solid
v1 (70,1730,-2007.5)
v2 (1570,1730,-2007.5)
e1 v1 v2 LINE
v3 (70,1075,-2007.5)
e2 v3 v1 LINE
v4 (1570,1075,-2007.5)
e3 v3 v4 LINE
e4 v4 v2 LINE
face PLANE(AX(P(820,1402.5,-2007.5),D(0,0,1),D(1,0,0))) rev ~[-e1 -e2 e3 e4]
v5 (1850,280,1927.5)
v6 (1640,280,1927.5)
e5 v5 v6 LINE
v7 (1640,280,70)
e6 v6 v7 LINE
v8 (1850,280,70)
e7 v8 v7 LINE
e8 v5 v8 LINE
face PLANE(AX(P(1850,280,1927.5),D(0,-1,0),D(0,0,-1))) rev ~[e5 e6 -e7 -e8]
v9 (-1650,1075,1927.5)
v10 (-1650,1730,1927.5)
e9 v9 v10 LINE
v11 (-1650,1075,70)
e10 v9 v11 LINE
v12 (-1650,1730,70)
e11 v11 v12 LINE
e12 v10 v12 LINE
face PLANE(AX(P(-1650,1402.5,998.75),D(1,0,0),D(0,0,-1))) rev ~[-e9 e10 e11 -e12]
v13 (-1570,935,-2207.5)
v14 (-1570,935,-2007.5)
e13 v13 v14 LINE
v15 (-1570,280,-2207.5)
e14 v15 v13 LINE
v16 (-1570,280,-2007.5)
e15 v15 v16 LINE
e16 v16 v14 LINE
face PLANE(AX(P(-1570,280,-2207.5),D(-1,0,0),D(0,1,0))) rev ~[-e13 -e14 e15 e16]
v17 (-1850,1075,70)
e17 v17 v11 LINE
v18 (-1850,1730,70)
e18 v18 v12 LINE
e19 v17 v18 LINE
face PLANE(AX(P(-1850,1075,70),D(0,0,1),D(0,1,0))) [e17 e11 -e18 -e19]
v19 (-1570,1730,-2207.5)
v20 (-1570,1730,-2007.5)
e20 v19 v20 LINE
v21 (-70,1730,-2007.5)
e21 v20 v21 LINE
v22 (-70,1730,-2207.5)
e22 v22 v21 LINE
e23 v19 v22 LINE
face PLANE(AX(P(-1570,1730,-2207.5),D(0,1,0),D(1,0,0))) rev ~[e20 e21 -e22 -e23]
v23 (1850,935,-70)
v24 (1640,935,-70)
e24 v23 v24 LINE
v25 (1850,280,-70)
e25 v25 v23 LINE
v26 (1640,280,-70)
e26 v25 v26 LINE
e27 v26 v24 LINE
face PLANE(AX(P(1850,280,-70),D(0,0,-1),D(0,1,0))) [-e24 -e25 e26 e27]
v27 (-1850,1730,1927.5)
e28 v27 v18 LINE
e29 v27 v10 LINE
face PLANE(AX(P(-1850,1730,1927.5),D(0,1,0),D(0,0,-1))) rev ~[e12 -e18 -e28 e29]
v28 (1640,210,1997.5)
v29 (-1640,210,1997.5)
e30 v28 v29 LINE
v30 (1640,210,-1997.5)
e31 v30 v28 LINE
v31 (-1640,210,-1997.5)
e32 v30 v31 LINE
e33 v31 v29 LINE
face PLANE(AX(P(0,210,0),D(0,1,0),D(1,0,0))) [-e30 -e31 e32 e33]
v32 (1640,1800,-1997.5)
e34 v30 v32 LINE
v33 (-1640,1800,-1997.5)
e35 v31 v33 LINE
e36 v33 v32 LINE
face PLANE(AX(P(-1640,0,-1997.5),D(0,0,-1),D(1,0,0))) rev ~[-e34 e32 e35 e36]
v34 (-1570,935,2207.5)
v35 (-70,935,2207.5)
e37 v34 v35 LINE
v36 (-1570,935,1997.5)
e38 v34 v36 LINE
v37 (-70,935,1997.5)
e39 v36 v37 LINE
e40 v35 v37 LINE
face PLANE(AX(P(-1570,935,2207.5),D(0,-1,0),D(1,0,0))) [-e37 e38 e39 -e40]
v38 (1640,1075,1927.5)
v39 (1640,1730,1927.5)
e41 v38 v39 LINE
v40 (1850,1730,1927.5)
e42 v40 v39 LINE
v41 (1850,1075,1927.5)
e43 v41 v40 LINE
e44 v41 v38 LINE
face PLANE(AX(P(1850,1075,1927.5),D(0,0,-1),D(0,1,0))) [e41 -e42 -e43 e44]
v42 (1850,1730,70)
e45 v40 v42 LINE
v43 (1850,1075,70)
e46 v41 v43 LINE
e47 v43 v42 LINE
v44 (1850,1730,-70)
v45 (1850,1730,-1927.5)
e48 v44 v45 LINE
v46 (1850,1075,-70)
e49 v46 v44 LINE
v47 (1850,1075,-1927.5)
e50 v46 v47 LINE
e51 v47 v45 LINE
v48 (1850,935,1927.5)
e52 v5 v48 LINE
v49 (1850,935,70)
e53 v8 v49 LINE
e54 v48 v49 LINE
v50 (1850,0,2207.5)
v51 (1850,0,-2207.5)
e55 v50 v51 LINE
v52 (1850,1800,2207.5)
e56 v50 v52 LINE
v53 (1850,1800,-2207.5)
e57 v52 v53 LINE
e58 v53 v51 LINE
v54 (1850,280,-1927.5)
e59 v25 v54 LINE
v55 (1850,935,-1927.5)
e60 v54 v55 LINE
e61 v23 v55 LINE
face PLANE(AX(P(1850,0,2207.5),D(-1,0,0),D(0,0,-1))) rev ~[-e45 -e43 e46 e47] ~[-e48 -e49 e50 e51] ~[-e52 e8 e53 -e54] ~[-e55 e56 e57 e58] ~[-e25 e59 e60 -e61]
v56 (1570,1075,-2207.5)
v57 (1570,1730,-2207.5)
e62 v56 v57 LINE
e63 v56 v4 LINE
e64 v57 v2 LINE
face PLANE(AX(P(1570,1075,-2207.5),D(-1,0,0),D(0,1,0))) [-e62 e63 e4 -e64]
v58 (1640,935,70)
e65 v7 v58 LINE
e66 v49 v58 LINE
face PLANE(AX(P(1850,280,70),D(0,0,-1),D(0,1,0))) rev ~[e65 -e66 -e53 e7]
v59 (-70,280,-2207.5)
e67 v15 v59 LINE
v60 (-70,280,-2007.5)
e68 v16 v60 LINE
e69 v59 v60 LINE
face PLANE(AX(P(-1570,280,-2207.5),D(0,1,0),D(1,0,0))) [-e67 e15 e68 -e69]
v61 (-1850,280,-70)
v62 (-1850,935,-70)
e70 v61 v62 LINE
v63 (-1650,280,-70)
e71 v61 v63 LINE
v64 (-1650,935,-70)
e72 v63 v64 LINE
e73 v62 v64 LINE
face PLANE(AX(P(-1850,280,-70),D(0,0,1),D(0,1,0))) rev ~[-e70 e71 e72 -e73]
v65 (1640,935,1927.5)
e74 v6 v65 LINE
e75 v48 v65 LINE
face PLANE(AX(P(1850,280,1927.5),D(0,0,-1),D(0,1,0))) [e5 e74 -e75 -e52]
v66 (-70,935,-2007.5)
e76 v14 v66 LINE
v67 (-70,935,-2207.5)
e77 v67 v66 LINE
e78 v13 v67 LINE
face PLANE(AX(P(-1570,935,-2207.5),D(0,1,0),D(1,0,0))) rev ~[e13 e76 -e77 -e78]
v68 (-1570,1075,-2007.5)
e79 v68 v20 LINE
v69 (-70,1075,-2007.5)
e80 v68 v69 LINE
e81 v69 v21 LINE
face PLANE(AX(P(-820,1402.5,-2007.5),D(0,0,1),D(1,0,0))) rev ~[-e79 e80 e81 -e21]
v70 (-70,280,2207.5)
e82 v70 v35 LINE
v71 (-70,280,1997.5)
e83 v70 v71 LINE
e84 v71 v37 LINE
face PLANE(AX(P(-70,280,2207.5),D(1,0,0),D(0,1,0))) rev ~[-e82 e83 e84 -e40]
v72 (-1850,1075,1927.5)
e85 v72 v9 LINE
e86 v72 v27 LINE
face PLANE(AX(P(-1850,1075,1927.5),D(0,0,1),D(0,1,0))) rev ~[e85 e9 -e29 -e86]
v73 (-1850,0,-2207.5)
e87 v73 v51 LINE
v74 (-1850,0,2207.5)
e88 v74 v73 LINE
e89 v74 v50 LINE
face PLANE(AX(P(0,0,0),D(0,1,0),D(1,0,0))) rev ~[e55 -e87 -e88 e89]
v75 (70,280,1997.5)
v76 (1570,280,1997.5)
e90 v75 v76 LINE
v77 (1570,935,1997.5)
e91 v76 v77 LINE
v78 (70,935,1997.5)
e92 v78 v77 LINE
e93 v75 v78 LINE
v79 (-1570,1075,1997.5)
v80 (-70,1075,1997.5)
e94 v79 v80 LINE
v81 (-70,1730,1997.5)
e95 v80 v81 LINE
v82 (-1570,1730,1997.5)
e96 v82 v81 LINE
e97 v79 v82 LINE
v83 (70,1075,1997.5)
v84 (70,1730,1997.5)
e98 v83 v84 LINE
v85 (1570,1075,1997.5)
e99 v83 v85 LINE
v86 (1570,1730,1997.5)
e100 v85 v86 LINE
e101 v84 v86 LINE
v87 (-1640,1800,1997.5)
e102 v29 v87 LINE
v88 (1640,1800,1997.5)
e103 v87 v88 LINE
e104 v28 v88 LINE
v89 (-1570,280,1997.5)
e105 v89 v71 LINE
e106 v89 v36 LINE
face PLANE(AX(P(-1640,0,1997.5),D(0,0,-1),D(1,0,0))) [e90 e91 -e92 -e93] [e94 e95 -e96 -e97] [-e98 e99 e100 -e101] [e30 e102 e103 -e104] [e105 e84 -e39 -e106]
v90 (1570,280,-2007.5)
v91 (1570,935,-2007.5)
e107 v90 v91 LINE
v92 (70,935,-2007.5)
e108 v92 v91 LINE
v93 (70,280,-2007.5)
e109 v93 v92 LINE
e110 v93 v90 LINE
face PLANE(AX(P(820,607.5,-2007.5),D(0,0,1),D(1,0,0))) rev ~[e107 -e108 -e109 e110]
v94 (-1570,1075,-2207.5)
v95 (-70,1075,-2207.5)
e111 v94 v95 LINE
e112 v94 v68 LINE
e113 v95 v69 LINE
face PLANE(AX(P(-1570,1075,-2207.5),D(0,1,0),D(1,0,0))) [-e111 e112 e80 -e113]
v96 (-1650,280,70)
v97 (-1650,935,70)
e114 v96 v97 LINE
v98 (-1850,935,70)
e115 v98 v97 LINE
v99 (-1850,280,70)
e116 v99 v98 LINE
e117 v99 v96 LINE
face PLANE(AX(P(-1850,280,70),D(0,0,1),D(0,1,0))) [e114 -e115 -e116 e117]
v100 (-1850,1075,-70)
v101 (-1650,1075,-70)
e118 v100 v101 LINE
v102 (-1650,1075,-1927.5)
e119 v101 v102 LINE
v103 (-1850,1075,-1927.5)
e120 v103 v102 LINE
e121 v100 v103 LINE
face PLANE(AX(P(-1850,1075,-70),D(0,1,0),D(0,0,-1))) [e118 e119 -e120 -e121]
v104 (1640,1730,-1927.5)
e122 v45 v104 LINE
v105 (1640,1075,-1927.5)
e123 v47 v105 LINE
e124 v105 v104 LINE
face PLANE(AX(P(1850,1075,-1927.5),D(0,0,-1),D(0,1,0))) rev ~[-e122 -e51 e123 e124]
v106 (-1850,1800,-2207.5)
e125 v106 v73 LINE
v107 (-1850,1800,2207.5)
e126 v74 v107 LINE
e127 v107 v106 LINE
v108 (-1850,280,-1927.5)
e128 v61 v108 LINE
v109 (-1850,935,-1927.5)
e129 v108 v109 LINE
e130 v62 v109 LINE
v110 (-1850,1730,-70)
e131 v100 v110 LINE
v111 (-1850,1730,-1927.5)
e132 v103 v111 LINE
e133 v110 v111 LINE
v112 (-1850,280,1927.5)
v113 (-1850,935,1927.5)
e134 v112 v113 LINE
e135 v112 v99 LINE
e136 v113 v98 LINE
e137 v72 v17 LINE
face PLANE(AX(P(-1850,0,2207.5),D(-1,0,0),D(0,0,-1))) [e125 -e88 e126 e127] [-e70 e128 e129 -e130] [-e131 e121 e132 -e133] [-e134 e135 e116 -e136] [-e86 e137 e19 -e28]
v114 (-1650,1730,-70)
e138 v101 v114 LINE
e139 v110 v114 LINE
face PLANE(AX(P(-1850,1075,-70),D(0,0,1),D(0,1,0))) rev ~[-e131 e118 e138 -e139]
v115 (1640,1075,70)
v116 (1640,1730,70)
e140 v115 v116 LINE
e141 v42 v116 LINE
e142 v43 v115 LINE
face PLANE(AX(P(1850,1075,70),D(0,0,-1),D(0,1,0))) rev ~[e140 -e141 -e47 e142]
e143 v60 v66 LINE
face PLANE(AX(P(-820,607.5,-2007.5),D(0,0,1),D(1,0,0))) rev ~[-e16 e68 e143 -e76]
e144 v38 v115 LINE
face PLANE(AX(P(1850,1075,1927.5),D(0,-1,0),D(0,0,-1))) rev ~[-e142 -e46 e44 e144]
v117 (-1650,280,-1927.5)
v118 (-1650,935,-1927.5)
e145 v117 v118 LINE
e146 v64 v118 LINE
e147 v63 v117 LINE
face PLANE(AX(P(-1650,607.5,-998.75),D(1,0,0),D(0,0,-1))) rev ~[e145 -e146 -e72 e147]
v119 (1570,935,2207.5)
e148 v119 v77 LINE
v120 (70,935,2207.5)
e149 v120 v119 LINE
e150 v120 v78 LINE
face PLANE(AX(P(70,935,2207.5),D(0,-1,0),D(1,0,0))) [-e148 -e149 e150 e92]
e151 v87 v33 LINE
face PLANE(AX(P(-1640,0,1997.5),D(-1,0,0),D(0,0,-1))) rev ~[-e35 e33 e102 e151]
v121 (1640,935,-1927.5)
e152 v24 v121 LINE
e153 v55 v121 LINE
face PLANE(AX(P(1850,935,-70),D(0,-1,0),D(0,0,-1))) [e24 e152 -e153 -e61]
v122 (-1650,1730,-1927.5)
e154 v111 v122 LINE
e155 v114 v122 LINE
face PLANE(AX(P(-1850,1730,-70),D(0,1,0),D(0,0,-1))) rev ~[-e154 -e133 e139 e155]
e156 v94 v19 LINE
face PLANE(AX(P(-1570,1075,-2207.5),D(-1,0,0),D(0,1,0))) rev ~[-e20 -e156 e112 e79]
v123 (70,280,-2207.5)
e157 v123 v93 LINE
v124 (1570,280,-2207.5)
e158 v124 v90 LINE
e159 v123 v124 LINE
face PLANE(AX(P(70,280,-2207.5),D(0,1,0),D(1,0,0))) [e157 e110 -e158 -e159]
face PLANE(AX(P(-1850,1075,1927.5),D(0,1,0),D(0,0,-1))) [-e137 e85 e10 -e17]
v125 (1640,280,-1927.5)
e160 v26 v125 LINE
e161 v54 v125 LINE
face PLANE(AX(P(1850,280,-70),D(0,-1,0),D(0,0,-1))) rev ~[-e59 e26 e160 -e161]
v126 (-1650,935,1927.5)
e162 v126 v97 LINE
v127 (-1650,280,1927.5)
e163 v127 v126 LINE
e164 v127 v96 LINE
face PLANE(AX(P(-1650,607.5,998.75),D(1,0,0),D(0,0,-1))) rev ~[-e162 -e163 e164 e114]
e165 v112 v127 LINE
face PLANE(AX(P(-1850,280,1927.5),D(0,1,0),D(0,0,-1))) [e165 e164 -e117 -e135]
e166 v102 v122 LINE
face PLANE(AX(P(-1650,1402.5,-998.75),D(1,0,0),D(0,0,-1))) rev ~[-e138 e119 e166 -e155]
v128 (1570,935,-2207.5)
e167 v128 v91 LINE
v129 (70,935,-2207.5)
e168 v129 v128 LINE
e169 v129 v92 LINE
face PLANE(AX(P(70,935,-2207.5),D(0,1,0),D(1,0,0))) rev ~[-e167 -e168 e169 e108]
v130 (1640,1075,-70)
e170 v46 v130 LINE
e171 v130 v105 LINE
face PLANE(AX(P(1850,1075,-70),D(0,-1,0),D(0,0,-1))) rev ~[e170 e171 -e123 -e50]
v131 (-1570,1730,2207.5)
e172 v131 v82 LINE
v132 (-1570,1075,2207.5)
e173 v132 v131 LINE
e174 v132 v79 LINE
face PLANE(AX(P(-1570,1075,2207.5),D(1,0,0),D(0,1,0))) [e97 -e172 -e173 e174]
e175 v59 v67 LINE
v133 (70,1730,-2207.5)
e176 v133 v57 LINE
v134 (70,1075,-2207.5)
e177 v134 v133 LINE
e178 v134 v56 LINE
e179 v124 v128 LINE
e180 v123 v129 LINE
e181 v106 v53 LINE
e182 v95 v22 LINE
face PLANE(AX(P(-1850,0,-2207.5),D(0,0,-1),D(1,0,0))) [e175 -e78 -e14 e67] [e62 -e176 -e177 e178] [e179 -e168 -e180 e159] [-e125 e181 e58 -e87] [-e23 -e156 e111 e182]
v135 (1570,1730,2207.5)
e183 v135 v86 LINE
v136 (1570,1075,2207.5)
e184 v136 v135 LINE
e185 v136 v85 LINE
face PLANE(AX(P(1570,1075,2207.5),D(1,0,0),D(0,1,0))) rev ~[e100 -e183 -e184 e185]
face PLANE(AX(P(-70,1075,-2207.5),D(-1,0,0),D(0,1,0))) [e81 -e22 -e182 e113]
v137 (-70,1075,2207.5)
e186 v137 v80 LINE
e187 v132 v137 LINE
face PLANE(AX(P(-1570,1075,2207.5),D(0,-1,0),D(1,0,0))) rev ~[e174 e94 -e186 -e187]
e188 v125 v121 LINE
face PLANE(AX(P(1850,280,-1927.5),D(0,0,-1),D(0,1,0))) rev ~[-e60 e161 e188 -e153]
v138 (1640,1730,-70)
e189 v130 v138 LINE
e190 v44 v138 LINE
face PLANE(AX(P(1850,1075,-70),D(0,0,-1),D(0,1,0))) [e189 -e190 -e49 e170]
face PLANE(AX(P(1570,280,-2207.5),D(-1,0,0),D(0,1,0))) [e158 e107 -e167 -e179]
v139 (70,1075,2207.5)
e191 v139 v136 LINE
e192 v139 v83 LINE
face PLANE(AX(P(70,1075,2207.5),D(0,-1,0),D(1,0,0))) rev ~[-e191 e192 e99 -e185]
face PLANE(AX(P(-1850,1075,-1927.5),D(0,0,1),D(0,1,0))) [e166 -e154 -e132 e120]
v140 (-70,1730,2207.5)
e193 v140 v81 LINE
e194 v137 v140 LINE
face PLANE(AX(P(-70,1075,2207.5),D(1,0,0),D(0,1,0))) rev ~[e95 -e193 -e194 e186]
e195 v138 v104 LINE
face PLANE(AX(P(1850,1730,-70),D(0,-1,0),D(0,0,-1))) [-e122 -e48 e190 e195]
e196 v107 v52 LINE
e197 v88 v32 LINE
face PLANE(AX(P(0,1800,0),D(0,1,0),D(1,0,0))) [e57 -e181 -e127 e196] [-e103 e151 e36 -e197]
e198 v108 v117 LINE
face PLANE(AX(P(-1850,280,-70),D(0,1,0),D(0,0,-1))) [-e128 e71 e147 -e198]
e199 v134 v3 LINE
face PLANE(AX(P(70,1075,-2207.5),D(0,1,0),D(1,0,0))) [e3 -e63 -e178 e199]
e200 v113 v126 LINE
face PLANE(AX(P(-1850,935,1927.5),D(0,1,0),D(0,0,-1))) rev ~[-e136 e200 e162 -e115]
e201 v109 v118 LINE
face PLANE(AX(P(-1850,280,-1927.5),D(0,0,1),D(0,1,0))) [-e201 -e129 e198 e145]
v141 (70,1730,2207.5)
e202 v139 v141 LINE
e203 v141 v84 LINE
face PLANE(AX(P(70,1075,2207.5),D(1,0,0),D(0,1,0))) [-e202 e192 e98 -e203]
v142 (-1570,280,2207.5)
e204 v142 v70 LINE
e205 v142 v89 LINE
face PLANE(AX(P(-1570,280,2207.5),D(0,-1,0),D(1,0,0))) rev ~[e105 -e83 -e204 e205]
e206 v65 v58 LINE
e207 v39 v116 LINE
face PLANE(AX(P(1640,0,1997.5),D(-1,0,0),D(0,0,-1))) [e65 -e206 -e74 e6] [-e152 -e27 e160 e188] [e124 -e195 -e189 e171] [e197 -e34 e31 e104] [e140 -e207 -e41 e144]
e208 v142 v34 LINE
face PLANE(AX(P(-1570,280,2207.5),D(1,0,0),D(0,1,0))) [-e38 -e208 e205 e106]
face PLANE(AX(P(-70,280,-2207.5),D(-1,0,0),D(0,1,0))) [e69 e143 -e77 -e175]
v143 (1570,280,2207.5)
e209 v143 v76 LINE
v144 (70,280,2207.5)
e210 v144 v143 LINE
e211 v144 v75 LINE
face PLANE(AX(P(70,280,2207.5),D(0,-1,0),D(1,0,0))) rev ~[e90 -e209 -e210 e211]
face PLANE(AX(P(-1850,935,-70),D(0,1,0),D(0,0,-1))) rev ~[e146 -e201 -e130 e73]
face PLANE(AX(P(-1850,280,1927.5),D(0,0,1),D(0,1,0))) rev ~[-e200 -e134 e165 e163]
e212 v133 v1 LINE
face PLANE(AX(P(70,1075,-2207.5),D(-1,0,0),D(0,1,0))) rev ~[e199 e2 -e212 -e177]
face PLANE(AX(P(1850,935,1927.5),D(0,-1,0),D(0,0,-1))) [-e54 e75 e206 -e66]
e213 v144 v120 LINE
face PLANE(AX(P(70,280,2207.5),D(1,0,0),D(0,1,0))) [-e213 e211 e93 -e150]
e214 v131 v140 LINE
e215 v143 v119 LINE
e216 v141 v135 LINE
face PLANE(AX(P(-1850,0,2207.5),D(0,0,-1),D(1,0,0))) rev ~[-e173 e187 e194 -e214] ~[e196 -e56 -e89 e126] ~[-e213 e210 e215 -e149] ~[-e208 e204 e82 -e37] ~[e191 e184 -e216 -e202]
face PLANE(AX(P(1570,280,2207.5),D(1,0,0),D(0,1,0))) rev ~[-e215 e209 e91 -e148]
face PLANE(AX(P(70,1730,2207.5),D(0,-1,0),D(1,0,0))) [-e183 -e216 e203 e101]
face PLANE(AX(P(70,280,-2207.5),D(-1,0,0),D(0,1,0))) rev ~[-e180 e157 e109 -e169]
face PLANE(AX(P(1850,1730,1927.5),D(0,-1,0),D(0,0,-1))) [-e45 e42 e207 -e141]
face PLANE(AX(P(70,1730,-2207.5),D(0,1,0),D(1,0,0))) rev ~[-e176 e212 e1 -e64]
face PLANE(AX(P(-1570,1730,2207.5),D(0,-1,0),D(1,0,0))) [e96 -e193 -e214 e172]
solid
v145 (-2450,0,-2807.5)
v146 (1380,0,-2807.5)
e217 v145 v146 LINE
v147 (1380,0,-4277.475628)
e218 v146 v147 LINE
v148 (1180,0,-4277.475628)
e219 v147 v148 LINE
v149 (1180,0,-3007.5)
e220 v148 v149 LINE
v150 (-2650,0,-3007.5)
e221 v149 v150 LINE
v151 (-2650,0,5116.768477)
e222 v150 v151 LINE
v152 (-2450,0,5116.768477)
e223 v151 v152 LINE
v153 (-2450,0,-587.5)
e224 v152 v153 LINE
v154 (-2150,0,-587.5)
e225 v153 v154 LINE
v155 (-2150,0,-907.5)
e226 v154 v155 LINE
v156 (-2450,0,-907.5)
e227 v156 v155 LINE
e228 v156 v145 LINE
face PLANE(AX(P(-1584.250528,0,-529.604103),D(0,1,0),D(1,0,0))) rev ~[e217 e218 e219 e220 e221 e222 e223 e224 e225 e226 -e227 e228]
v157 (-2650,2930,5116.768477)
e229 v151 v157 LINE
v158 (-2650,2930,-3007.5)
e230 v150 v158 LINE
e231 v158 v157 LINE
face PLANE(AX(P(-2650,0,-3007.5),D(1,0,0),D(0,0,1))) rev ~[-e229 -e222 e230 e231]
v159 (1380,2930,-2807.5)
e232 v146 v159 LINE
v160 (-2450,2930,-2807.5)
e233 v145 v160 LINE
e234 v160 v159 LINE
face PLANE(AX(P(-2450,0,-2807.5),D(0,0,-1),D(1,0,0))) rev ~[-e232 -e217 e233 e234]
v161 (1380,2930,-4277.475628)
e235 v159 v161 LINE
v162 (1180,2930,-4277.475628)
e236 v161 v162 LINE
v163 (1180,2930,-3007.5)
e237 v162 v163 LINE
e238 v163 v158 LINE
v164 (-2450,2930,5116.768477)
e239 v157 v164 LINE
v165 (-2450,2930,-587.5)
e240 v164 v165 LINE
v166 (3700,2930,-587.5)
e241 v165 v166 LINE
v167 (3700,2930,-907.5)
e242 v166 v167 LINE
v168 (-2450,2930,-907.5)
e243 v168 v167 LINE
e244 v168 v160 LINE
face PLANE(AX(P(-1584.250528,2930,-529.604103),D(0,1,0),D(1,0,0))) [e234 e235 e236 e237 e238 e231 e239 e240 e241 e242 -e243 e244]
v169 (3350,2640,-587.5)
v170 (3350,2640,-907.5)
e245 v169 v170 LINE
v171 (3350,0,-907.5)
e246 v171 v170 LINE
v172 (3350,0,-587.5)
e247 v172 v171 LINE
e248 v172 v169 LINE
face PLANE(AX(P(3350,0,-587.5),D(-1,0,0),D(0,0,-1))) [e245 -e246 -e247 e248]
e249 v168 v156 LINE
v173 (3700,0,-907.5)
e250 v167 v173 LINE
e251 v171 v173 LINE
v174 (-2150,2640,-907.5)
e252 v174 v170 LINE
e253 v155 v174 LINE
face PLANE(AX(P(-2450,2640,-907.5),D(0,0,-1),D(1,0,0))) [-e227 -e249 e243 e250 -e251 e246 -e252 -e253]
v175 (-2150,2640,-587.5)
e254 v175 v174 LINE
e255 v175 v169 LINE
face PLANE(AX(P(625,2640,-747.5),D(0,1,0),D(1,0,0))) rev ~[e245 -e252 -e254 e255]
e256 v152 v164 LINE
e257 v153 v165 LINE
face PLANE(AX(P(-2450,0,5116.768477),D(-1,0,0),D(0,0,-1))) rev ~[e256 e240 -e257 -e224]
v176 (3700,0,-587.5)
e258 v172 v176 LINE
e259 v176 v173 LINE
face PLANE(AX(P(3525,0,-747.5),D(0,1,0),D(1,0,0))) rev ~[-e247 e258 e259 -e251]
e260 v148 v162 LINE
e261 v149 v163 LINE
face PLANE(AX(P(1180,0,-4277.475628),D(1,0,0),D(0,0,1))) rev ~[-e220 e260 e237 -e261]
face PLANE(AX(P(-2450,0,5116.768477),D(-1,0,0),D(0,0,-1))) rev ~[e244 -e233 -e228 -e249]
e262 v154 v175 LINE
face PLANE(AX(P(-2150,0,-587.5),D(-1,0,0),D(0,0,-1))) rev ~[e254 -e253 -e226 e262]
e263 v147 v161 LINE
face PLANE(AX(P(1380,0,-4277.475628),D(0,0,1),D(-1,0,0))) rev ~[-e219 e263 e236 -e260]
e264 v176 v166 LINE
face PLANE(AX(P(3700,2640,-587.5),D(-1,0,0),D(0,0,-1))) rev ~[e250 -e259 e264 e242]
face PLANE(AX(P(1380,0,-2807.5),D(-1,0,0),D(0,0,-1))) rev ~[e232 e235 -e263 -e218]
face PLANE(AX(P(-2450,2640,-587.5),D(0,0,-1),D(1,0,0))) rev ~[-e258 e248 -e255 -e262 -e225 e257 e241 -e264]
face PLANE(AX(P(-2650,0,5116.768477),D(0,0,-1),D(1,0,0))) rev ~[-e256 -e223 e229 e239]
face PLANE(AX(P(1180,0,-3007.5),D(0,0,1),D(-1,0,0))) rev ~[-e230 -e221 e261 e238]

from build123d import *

# Parameters (mm, degrees)
SKETCH1_W             = 3700
SKETCH1_H             = 4415
SKETCH1_W_2           = 3280
SKETCH1_H_2           = 3995
BOSS_EXTRUDE1_DEPTH   = 210
SKETCH1_3_W           = 3700
SKETCH1_3_H           = 4415
SKETCH1_3_W_2         = 3280
SKETCH1_3_H_2         = 3995
BOSS_EXTRUDE2_DEPTH   = 1800
CUT_EXTRUDE1_REACH    = 5116.169
SKETCH2_W             = 1500
SKETCH2_H             = 655
CUT_EXTRUDE2_START    = -4415
SKETCH2_3_W           = 1500
SKETCH2_3_H           = 655
CUT_EXTRUDE2_DEPTH    = 200
CUT_EXTRUDE3_REACH    = 4671.374
SKETCH3_W             = 1857.5
SKETCH3_H             = 655
CUT_EXTRUDE4_START    = -3700
SKETCH3_3_W           = 1857.5
SKETCH3_3_H           = 655
CUT_EXTRUDE4_DEPTH    = 200
SKETCH4_W             = 350
SKETCH4_H             = 320
BOSS_EXTRUDE3_DEPTH   = 2640
SKETCH4_W_2           = 300
BOSS_EXTRUDE3_2_DEPTH = 2640
SKETCH5_W             = 6150
SKETCH5_H             = 320
BOSS_EXTRUDE4_DEPTH   = 290
BOSS_EXTRUDE5_DEPTH   = 2930


with BuildPart() as part:
    # Sketch1 → Boss-Extrude1 (new body)
    with BuildSketch(Plane(origin=(0, 0, 0), x_dir=(1, 0, 0), z_dir=(0, 1, 0))):
        Rectangle(SKETCH1_W, SKETCH1_H)
        Rectangle(SKETCH1_W_2, SKETCH1_H_2, mode=Mode.SUBTRACT)
        Rectangle(SKETCH1_W_2, SKETCH1_H_2)
    extrude(amount=BOSS_EXTRUDE1_DEPTH)

    # Sketch1<3> → Boss-Extrude2 (add)
    with BuildSketch(Plane(origin=(0, 0, 0), x_dir=(1, 0, 0), z_dir=(0, 1, 0))):
        Rectangle(SKETCH1_3_W, SKETCH1_3_H)
        Rectangle(SKETCH1_3_W_2, SKETCH1_3_H_2, mode=Mode.SUBTRACT)
    extrude(amount=BOSS_EXTRUDE2_DEPTH)

    # Sketch2 → Cut-Extrude1 (cut, up to next)
    with BuildSketch(Plane.XY.offset(2207.5), mode=Mode.PRIVATE) as cut_extrude1_sk1:
        with Locations((-820, 1402.5)):
            Rectangle(SKETCH2_W, SKETCH2_H)
    cut_extrude1_tool1 = extrude(cut_extrude1_sk1.sketch, amount=-CUT_EXTRUDE1_REACH, mode=Mode.PRIVATE) & part.part
    # Sketch2 → Cut-Extrude1 (cut, up to next)
    with BuildSketch(Plane.XY.offset(2207.5), mode=Mode.PRIVATE) as cut_extrude1_sk2:
        with Locations((-820, 607.5)):
            Rectangle(SKETCH2_W, SKETCH2_H)
    cut_extrude1_tool2 = extrude(cut_extrude1_sk2.sketch, amount=-CUT_EXTRUDE1_REACH, mode=Mode.PRIVATE) & part.part
    # Sketch2 → Cut-Extrude1 (cut, up to next)
    with BuildSketch(Plane.XY.offset(2207.5), mode=Mode.PRIVATE) as cut_extrude1_sk3:
        with Locations((820, 607.5)):
            Rectangle(SKETCH2_W, SKETCH2_H)
    cut_extrude1_tool3 = extrude(cut_extrude1_sk3.sketch, amount=-CUT_EXTRUDE1_REACH, mode=Mode.PRIVATE) & part.part
    # Sketch2 → Cut-Extrude1 (cut, up to next)
    with BuildSketch(Plane.XY.offset(2207.5), mode=Mode.PRIVATE) as cut_extrude1_sk4:
        with Locations((820, 1402.5)):
            Rectangle(SKETCH2_W, SKETCH2_H)
    cut_extrude1_tool4 = extrude(cut_extrude1_sk4.sketch, amount=-CUT_EXTRUDE1_REACH, mode=Mode.PRIVATE) & part.part
    add(cut_extrude1_tool1.solids().sort_by_distance((-820, 1402.5, 2207.5))[0], mode=Mode.SUBTRACT)
    add(cut_extrude1_tool2.solids().sort_by_distance((-820, 607.5, 2207.5))[0], mode=Mode.SUBTRACT)
    add(cut_extrude1_tool3.solids().sort_by_distance((820, 607.5, 2207.5))[0], mode=Mode.SUBTRACT)
    add(cut_extrude1_tool4.solids().sort_by_distance((820, 1402.5, 2207.5))[0], mode=Mode.SUBTRACT)

    # Sketch2<3> → Cut-Extrude2 (cut)
    with BuildSketch(Plane.XY.offset(2207.5).offset(CUT_EXTRUDE2_START)):
        with Locations((820, 1402.5)):
            Rectangle(SKETCH2_3_W, SKETCH2_3_H)
        with Locations((-820, 1402.5)):
            Rectangle(SKETCH2_3_W, SKETCH2_3_H)
        with Locations((-820, 607.5)):
            Rectangle(SKETCH2_3_W, SKETCH2_3_H)
        with Locations((820, 607.5)):
            Rectangle(SKETCH2_3_W, SKETCH2_3_H)
    extrude(amount=CUT_EXTRUDE2_DEPTH, mode=Mode.SUBTRACT)

    # Sketch3 → Cut-Extrude3 (cut, up to next)
    with BuildSketch(Plane(origin=(1850, 0, 0), x_dir=(0, 0, -1), z_dir=(1, 0, 0)), mode=Mode.PRIVATE) as cut_extrude3_sk1:
        with Locations((-998.75, 1402.5)):
            Rectangle(SKETCH3_W, SKETCH3_H)
    cut_extrude3_tool1 = extrude(cut_extrude3_sk1.sketch, amount=-CUT_EXTRUDE3_REACH, mode=Mode.PRIVATE) & part.part
    # Sketch3 → Cut-Extrude3 (cut, up to next)
    with BuildSketch(Plane(origin=(1850, 0, 0), x_dir=(0, 0, -1), z_dir=(1, 0, 0)), mode=Mode.PRIVATE) as cut_extrude3_sk2:
        with Locations((-998.75, 607.5)):
            Rectangle(SKETCH3_W, SKETCH3_H)
    cut_extrude3_tool2 = extrude(cut_extrude3_sk2.sketch, amount=-CUT_EXTRUDE3_REACH, mode=Mode.PRIVATE) & part.part
    # Sketch3 → Cut-Extrude3 (cut, up to next)
    with BuildSketch(Plane(origin=(1850, 0, 0), x_dir=(0, 0, -1), z_dir=(1, 0, 0)), mode=Mode.PRIVATE) as cut_extrude3_sk3:
        with Locations((998.75, 607.5)):
            Rectangle(SKETCH3_W, SKETCH3_H)
    cut_extrude3_tool3 = extrude(cut_extrude3_sk3.sketch, amount=-CUT_EXTRUDE3_REACH, mode=Mode.PRIVATE) & part.part
    # Sketch3 → Cut-Extrude3 (cut, up to next)
    with BuildSketch(Plane(origin=(1850, 0, 0), x_dir=(0, 0, -1), z_dir=(1, 0, 0)), mode=Mode.PRIVATE) as cut_extrude3_sk4:
        with Locations((998.75, 1402.5)):
            Rectangle(SKETCH3_W, SKETCH3_H)
    cut_extrude3_tool4 = extrude(cut_extrude3_sk4.sketch, amount=-CUT_EXTRUDE3_REACH, mode=Mode.PRIVATE) & part.part
    add(cut_extrude3_tool1.solids().sort_by_distance((1850, 1402.5, 998.75))[0], mode=Mode.SUBTRACT)
    add(cut_extrude3_tool2.solids().sort_by_distance((1850, 607.5, 998.75))[0], mode=Mode.SUBTRACT)
    add(cut_extrude3_tool3.solids().sort_by_distance((1850, 607.5, -998.75))[0], mode=Mode.SUBTRACT)
    add(cut_extrude3_tool4.solids().sort_by_distance((1850, 1402.5, -998.75))[0], mode=Mode.SUBTRACT)

    # Sketch3<3> → Cut-Extrude4 (cut)
    with BuildSketch(Plane(origin=(1850, 0, 0), x_dir=(0, 0, -1), z_dir=(1, 0, 0)).offset(CUT_EXTRUDE4_START)):
        with Locations((998.75, 607.5)):
            Rectangle(SKETCH3_3_W, SKETCH3_3_H)
        with Locations((998.75, 1402.5)):
            Rectangle(SKETCH3_3_W, SKETCH3_3_H)
        with Locations((-998.75, 1402.5)):
            Rectangle(SKETCH3_3_W, SKETCH3_3_H)
        with Locations((-998.75, 607.5)):
            Rectangle(SKETCH3_3_W, SKETCH3_3_H)
    extrude(amount=CUT_EXTRUDE4_DEPTH, mode=Mode.SUBTRACT)


with BuildPart() as body_2:
    # Sketch4 → Boss-Extrude3 (new body)
    with BuildSketch(Plane(origin=(0, 0, 0), x_dir=(1, 0, 0), z_dir=(0, 1, 0))):
        with Locations((3525, 747.5)):
            Rectangle(SKETCH4_W, SKETCH4_H)
    extrude(amount=BOSS_EXTRUDE3_DEPTH)



with BuildPart() as body_3:
    # Sketch4 → Boss-Extrude3 2 (new body)
    with BuildSketch(Plane(origin=(0, 0, 0), x_dir=(1, 0, 0), z_dir=(0, 1, 0))):
        with Locations((-2300, 747.5)):
            Rectangle(SKETCH4_W_2, SKETCH4_H)
    extrude(amount=BOSS_EXTRUDE3_2_DEPTH)


with BuildPart() as body_2_1:
    add(body_2.part)

    add(body_3.part)  # Boss-Extrude4 merges body 3
    # Sketch5 → Boss-Extrude4 (add)
    with BuildSketch(Plane(origin=(0, 2640, 0), x_dir=(1, 0, 0), z_dir=(0, 1, 0))):
        with Locations((625, 747.5)):
            Rectangle(SKETCH5_W, SKETCH5_H)
    extrude(amount=BOSS_EXTRUDE4_DEPTH)

    # Sketch4<3> → Boss-Extrude5 (add)
    with BuildSketch(Plane(origin=(0, 0, 0), x_dir=(1, 0, 0), z_dir=(0, 1, 0))):
        Polygon((1180, 4277.475628021), (1180, 3007.5), (-2650, 3007.5), (-2650, -5116.768477228), (-2450, -5116.768477228), (-2450, 587.5), (-2450, 907.5), (-2450, 2807.5), (1380, 2807.5), (1380, 4277.475628021), align=None)
    extrude(amount=BOSS_EXTRUDE5_DEPTH)


solid = Compound([part.part, body_2_1.part])
